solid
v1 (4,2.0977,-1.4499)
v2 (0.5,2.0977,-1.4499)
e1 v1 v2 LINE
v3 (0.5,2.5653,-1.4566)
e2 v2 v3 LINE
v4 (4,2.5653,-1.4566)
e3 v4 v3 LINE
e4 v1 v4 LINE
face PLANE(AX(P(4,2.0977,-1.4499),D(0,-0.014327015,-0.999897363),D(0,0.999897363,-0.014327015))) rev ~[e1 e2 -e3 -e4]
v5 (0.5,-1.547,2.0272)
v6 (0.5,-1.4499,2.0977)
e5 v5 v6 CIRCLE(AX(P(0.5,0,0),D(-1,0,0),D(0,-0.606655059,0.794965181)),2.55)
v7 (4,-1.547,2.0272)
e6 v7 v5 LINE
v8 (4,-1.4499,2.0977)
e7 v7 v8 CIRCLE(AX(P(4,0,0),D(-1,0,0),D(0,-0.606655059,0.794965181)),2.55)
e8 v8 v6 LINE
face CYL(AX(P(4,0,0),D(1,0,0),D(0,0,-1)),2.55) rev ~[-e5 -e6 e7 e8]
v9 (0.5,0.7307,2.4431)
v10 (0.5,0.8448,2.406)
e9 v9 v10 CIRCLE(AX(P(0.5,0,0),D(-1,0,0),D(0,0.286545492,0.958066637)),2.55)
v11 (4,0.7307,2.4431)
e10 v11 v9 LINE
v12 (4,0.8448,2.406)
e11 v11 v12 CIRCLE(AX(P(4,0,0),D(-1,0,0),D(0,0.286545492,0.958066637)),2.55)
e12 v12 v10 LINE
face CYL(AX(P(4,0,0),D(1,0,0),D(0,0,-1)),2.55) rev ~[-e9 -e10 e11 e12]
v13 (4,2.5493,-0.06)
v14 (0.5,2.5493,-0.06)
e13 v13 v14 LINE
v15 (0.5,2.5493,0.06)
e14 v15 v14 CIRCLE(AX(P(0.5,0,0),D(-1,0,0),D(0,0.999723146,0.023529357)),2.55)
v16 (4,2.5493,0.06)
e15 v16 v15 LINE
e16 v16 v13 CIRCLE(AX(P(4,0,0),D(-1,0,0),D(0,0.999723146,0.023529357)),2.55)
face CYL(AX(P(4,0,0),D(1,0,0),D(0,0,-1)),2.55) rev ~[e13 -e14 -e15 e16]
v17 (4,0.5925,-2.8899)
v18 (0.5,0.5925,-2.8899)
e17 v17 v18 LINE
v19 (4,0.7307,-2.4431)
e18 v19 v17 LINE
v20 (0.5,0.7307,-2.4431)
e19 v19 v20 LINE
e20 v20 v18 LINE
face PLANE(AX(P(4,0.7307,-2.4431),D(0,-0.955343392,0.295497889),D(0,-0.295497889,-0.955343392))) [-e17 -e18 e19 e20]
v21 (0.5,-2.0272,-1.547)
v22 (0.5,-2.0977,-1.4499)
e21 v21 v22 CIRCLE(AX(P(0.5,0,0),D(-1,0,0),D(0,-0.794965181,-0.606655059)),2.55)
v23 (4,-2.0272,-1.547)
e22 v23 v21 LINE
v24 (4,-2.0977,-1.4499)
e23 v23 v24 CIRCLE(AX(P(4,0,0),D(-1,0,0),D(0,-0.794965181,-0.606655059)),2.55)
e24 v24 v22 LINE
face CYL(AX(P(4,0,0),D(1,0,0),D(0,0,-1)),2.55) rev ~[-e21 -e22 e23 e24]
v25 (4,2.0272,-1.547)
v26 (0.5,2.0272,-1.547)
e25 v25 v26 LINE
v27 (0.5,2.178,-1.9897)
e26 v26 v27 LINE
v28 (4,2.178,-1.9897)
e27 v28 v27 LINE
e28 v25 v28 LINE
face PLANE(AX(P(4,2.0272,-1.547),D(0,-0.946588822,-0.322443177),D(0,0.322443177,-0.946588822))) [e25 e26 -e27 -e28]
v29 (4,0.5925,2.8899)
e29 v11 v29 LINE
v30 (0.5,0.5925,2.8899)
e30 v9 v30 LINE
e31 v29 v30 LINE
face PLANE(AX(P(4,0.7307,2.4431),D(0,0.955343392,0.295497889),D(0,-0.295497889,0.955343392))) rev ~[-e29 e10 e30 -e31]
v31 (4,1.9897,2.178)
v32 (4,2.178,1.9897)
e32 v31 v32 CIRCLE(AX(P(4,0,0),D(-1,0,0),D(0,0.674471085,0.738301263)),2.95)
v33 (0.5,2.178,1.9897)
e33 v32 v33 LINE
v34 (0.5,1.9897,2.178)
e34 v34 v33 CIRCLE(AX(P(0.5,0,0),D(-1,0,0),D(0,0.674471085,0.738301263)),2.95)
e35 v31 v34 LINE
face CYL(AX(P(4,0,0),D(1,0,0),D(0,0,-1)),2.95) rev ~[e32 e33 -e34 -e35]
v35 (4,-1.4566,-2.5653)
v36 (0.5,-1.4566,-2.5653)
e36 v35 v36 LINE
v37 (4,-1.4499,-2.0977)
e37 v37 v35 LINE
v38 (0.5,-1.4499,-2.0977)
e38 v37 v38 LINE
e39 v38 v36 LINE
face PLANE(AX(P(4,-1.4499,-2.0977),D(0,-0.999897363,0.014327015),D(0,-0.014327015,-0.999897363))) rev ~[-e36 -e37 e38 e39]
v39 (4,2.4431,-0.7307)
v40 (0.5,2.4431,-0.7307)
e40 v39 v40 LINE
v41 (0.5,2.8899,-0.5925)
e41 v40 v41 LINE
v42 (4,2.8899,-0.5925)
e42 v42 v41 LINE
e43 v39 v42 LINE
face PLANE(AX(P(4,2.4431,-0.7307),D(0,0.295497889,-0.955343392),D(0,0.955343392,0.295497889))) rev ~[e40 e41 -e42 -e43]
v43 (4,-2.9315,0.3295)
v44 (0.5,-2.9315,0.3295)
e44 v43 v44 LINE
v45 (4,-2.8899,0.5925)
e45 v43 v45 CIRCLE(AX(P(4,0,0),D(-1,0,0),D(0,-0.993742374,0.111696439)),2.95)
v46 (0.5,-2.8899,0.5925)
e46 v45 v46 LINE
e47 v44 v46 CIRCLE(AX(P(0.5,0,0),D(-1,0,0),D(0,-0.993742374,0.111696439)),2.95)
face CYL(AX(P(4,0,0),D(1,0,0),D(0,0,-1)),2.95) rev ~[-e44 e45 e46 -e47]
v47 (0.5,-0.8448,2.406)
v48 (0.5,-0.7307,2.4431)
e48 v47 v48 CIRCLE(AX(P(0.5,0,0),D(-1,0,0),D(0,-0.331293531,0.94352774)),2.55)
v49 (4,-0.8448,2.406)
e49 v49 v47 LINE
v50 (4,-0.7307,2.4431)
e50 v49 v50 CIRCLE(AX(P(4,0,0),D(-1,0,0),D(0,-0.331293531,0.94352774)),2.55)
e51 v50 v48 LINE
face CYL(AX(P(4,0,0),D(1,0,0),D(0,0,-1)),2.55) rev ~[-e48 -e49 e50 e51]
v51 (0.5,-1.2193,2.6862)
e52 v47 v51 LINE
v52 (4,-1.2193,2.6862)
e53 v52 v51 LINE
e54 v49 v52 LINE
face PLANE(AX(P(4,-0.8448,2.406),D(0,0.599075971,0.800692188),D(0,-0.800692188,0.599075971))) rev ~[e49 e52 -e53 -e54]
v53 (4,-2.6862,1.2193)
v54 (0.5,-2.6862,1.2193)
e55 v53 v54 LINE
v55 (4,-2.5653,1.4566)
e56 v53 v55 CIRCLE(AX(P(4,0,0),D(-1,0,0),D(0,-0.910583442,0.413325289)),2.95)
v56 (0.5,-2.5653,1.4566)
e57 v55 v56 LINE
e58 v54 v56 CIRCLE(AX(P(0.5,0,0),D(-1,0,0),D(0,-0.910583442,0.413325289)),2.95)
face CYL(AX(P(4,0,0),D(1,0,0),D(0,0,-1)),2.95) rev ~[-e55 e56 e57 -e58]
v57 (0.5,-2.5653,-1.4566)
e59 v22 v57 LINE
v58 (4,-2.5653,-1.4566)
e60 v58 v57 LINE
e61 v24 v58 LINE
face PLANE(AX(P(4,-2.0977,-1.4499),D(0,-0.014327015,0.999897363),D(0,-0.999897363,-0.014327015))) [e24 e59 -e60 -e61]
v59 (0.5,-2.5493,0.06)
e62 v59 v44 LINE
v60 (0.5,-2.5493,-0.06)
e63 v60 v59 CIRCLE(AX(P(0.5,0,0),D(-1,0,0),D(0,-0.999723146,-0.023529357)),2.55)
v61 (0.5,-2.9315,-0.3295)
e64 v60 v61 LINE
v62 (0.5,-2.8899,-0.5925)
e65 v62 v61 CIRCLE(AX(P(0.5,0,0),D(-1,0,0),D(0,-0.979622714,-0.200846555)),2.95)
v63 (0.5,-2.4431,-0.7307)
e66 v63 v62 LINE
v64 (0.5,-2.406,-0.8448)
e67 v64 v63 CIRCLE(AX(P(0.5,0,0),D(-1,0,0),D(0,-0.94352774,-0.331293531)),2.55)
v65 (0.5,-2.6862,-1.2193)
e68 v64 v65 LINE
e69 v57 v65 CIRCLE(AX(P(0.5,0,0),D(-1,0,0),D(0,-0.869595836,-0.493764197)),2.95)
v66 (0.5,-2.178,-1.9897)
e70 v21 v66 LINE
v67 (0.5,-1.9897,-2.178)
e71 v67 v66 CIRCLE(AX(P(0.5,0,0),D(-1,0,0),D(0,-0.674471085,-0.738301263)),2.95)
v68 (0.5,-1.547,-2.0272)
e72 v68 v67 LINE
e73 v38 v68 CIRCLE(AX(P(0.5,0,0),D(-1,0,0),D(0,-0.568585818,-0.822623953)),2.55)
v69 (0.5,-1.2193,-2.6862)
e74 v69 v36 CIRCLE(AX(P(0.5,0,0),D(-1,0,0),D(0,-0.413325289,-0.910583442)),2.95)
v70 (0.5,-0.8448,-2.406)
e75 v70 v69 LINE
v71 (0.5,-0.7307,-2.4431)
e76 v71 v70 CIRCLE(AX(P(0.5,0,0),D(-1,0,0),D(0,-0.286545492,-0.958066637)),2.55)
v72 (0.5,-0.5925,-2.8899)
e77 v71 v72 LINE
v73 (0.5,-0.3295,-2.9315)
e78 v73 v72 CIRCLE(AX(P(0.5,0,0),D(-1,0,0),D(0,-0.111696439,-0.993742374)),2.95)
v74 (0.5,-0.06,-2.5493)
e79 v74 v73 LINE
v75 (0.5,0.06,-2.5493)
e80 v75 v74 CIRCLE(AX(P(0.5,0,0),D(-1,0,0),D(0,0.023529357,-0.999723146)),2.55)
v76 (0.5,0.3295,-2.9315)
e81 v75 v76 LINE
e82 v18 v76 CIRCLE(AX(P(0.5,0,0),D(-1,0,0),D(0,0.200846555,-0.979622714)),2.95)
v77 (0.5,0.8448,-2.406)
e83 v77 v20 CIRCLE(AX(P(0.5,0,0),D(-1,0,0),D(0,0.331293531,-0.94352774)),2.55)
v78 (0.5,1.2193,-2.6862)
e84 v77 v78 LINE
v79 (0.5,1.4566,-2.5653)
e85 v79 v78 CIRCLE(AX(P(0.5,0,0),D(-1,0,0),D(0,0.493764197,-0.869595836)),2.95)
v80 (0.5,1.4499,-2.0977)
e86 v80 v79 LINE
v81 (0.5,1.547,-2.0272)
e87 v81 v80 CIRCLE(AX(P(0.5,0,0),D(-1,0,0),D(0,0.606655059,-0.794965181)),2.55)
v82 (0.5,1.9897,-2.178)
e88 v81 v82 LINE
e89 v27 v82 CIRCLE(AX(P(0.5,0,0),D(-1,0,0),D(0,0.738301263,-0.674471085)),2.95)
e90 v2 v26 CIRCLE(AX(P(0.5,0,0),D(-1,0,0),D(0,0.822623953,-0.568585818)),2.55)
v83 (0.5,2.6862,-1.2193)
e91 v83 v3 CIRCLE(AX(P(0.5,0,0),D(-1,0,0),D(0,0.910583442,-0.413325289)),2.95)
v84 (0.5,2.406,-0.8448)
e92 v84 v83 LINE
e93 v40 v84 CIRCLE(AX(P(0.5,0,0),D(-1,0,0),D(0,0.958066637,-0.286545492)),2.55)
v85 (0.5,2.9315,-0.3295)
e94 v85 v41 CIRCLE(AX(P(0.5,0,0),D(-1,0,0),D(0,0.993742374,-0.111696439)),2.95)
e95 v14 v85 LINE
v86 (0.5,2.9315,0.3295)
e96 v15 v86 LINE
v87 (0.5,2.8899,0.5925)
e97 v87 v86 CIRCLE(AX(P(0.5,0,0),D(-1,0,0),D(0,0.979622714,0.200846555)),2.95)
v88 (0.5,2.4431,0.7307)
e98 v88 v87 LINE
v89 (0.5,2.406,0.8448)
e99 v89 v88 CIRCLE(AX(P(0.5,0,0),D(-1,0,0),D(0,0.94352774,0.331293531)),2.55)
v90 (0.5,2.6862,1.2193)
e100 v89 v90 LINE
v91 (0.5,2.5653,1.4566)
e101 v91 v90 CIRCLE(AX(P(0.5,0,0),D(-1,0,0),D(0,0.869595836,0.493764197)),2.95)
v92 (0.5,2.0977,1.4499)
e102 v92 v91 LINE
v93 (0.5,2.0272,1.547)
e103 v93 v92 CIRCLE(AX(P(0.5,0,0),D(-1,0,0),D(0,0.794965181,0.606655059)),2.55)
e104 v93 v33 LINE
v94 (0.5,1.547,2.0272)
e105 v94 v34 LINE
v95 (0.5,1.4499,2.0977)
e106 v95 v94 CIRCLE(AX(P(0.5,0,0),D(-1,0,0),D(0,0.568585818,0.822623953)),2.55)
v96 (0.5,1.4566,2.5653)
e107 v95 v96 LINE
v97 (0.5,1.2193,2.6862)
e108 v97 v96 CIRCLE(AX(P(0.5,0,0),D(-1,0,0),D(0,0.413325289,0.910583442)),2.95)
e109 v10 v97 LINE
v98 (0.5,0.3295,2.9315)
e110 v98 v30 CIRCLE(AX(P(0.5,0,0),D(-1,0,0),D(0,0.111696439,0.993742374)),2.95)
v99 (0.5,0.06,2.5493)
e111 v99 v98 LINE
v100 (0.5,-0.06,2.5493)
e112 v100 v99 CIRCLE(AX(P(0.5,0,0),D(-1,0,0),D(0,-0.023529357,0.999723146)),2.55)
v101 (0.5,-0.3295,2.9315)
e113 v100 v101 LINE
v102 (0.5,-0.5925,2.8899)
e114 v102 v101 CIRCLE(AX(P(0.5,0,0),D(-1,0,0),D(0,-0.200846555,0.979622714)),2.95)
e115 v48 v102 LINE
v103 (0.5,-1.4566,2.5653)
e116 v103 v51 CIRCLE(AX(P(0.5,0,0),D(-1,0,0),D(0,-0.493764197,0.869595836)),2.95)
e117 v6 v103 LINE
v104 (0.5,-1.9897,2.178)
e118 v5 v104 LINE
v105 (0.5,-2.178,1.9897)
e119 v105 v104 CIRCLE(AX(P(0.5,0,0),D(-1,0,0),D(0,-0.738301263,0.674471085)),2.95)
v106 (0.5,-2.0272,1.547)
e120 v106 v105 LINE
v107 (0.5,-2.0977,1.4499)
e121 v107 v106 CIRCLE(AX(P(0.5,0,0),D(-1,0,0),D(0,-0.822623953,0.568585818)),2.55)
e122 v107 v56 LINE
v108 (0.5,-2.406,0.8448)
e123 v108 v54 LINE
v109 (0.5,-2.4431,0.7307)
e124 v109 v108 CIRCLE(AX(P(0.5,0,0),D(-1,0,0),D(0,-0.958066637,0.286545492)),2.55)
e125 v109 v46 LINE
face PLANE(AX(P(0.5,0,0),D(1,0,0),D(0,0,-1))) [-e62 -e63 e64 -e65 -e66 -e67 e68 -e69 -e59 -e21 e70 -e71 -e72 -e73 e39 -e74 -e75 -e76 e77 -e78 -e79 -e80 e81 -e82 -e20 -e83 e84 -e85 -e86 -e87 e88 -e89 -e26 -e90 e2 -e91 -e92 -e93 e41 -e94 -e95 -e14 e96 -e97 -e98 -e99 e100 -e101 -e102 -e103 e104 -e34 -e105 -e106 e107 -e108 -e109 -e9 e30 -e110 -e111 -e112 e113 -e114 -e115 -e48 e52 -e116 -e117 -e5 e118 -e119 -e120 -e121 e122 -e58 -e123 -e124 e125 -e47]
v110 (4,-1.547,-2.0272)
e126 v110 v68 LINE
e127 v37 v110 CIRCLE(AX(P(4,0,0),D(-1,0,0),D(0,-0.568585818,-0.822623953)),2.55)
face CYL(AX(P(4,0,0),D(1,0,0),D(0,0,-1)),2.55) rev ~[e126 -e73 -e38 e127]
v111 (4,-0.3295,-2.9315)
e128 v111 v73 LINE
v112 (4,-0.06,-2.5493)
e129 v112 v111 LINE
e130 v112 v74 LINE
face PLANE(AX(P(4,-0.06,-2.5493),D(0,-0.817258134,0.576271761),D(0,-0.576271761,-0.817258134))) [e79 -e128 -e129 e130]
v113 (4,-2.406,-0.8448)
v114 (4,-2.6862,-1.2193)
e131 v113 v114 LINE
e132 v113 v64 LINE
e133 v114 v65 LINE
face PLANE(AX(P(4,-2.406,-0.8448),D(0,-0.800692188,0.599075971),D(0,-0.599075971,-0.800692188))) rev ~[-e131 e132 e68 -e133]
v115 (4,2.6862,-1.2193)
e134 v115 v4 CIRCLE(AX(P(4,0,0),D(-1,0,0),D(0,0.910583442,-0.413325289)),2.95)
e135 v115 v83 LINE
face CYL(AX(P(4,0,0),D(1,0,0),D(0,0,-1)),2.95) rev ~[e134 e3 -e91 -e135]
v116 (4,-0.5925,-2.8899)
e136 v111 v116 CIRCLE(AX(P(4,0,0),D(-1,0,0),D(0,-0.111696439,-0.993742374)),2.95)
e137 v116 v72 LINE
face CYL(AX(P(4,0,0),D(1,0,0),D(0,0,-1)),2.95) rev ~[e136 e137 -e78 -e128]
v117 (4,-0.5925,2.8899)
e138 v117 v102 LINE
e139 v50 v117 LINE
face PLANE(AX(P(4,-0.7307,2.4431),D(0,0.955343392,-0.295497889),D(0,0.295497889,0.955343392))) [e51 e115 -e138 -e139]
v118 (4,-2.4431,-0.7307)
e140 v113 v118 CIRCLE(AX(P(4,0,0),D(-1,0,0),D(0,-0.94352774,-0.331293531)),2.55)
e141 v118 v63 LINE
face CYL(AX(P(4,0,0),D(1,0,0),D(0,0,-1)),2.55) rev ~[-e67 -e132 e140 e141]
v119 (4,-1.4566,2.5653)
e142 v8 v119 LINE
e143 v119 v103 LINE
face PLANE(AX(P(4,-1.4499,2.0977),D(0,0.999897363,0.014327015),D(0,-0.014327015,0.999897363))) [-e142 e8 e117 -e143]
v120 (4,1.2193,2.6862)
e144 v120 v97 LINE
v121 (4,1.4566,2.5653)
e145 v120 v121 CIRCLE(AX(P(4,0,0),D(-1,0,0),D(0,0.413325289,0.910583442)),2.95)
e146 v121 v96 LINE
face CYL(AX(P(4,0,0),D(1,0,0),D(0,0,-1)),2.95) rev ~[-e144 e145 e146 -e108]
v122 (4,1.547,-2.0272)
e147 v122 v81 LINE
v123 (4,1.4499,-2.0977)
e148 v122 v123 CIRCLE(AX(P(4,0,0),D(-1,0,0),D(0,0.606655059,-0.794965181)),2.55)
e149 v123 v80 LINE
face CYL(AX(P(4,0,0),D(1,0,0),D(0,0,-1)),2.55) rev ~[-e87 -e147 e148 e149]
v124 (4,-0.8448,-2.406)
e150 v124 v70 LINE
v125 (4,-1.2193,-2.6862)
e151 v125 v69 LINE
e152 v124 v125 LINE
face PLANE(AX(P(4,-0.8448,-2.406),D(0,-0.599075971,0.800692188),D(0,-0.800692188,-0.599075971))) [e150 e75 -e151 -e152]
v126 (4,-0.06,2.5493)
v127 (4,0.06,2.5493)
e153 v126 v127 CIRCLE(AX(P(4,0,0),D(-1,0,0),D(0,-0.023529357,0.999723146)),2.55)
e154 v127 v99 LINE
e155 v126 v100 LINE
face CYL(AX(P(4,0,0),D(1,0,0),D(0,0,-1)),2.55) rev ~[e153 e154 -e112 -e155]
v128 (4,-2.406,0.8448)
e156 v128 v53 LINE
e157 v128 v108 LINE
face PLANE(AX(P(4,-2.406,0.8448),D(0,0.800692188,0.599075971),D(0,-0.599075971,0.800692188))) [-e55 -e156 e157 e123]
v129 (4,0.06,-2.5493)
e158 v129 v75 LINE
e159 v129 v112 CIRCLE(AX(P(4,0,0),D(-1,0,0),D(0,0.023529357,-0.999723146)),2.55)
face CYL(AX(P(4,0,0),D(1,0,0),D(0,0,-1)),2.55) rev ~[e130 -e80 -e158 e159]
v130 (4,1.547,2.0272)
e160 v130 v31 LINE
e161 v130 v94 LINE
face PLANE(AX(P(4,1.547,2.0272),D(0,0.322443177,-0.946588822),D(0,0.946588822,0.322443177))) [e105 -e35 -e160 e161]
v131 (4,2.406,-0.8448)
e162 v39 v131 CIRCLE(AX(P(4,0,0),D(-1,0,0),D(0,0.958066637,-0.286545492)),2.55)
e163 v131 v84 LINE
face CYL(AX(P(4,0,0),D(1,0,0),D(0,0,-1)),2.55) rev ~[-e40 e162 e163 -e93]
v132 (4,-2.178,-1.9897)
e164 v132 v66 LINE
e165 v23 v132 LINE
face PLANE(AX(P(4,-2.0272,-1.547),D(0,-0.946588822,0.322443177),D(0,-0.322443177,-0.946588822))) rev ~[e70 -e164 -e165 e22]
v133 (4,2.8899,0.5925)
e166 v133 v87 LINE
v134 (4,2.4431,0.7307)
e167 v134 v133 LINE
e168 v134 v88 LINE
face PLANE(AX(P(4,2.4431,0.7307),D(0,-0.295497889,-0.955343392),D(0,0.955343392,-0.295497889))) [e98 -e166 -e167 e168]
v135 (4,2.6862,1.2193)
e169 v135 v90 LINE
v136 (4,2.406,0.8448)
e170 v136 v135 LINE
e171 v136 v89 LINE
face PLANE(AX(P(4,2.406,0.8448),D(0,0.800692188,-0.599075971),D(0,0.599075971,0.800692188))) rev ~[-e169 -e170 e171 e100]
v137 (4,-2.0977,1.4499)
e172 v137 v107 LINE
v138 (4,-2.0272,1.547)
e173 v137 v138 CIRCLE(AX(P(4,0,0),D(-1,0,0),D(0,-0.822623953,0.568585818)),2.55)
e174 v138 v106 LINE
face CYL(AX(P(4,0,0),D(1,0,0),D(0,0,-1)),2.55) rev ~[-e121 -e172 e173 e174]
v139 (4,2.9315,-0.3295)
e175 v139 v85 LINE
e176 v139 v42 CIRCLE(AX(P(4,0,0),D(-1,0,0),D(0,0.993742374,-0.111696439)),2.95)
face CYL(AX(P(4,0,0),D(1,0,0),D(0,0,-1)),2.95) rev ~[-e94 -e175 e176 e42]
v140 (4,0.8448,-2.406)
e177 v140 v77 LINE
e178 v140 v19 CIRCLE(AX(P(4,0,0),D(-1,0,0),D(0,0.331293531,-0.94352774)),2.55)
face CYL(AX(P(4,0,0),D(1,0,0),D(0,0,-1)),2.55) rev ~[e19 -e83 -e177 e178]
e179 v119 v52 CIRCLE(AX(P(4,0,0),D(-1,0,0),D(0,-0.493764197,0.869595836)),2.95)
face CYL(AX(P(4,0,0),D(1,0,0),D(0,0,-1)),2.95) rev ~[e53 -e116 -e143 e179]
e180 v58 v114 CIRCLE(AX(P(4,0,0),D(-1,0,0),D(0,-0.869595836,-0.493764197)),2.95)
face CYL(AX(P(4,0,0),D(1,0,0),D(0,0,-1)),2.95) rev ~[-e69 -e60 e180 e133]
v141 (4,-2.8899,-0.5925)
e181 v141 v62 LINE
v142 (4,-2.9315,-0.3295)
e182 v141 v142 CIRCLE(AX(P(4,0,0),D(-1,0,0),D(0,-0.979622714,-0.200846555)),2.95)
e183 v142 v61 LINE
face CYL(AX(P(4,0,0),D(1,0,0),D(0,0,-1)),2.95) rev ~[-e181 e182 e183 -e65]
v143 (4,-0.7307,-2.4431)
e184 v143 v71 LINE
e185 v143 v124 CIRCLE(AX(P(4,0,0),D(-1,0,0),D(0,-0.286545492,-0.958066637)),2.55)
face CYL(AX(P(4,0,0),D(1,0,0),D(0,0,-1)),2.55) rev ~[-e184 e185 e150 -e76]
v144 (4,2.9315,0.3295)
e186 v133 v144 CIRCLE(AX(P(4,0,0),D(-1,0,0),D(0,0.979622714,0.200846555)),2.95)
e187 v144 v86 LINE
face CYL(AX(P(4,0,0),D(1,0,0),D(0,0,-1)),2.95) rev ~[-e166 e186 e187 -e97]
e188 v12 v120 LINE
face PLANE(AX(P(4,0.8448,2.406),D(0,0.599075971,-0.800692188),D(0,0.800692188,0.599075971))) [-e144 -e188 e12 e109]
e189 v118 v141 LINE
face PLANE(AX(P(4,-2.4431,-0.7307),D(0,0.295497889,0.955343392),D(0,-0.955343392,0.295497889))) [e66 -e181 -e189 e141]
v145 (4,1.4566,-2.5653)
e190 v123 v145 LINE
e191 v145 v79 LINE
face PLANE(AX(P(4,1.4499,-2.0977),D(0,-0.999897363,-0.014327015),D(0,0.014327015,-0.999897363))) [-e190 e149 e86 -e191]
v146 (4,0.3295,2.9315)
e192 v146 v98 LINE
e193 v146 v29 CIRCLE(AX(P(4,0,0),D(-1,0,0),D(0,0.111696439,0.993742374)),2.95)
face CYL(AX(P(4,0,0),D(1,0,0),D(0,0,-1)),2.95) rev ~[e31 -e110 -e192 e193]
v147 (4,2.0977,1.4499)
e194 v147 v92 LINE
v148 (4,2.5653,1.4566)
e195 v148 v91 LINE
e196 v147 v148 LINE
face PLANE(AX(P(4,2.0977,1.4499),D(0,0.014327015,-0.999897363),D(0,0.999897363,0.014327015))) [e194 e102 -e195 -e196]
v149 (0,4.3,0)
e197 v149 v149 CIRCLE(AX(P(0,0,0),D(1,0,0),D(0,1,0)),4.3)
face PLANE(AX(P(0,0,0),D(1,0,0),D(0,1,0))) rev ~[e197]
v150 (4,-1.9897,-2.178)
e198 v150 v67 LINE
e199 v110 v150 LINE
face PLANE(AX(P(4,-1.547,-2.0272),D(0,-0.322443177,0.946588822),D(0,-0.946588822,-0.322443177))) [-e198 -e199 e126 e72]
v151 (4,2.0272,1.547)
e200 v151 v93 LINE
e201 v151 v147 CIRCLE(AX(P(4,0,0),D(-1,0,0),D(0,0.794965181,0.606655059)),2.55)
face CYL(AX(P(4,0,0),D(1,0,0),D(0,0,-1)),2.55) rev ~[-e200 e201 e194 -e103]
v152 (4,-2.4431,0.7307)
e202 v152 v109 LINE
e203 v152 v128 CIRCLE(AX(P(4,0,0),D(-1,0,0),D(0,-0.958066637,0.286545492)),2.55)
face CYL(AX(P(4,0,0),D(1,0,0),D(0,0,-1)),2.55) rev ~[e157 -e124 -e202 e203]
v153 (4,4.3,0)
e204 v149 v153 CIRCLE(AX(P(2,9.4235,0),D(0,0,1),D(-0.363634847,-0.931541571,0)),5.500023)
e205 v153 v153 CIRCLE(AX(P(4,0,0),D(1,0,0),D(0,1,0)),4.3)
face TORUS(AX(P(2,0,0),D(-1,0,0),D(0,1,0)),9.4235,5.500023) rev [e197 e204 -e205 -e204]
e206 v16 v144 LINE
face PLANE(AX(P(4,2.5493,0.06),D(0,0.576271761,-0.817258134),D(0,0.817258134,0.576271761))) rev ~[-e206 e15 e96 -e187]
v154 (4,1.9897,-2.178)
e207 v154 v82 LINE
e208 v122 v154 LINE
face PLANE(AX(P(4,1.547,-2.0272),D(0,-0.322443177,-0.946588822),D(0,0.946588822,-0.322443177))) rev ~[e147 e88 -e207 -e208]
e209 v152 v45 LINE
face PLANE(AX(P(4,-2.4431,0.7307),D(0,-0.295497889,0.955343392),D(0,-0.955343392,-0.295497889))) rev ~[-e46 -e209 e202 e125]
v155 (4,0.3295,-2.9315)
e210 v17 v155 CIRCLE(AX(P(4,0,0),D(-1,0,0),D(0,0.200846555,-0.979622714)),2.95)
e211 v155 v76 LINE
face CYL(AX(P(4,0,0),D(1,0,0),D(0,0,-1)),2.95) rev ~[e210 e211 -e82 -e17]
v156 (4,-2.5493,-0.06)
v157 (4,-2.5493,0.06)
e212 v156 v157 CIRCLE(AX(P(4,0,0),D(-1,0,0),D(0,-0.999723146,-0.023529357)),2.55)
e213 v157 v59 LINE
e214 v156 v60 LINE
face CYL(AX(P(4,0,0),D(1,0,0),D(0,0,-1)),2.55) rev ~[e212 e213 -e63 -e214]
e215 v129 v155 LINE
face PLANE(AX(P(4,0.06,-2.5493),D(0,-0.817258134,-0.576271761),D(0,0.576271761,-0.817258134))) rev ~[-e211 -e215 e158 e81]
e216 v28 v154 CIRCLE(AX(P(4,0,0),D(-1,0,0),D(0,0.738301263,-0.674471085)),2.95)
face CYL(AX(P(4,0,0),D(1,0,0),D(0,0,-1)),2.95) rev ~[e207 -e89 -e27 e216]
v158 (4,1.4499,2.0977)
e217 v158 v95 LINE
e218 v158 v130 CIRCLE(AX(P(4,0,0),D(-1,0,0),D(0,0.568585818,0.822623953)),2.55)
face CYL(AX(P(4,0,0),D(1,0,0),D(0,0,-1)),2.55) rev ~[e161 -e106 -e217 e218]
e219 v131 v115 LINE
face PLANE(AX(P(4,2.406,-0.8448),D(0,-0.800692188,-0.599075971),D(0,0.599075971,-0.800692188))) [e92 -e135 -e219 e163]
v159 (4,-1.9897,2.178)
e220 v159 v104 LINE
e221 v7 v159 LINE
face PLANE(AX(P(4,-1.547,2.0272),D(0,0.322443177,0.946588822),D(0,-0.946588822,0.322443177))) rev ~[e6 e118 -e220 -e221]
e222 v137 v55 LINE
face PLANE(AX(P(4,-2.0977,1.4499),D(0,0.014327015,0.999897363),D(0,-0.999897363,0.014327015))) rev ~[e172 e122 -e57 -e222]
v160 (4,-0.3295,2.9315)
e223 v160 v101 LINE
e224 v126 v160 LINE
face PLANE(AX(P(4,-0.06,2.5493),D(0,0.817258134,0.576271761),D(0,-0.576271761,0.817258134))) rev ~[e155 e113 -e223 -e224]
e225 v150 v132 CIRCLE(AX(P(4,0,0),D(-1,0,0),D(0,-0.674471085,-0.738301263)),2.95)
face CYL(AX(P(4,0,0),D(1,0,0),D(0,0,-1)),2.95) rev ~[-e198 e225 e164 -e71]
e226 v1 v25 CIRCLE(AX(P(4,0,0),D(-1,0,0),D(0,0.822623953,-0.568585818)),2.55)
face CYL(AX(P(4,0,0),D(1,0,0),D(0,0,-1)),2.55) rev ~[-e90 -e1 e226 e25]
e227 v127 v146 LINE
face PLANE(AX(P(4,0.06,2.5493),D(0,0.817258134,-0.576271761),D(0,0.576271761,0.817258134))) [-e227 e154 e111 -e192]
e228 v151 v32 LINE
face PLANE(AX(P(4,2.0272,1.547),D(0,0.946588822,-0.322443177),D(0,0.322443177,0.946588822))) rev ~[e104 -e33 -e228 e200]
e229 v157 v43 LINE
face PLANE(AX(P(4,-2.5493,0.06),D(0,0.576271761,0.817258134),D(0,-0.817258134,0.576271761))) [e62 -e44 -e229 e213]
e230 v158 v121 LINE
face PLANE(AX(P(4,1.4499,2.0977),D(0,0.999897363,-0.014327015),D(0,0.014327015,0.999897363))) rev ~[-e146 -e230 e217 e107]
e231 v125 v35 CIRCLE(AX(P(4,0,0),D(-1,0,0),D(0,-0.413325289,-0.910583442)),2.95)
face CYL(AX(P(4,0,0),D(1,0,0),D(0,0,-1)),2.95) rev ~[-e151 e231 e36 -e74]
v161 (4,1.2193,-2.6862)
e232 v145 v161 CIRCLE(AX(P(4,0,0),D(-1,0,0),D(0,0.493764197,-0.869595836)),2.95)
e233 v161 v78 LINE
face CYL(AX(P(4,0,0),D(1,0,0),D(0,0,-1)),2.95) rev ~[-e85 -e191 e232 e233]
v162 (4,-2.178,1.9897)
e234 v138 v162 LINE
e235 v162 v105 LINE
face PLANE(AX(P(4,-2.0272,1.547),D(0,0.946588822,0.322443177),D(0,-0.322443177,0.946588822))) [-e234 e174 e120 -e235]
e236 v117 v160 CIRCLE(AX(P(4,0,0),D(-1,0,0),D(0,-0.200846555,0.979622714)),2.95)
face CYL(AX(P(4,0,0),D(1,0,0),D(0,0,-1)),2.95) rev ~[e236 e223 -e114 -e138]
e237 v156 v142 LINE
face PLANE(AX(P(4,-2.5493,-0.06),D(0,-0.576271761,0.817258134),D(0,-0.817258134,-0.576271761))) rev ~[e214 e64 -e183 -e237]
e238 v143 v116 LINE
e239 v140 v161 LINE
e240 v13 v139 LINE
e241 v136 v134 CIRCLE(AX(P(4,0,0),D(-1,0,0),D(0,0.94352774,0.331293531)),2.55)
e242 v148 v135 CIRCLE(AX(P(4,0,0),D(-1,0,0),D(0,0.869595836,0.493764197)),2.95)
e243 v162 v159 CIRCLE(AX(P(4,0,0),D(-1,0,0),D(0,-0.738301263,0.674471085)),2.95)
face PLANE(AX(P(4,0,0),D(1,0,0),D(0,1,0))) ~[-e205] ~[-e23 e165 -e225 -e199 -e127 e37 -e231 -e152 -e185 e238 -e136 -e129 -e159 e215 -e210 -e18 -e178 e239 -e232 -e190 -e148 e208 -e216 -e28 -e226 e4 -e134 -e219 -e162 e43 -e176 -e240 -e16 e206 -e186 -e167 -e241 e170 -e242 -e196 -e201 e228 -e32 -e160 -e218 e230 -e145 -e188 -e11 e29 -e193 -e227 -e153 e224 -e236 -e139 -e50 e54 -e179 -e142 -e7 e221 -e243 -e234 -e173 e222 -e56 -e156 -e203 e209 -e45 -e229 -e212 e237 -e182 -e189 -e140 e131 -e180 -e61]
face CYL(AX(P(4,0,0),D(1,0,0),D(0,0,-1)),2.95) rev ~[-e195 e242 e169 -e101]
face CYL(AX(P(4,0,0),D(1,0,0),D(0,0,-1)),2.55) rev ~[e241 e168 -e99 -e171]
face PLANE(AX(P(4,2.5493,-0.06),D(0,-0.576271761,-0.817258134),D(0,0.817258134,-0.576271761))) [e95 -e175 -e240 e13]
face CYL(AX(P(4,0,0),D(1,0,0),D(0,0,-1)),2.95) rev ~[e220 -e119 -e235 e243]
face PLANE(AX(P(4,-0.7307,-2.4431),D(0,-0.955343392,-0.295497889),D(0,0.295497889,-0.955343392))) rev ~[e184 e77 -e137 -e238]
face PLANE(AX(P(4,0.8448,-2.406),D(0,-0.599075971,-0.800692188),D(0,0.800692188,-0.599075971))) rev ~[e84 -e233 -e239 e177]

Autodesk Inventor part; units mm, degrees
ref_plane "YZ Plane" through (0, 0, 0) normal (1, 0, 0) x (0, 1, 0)
ref_plane "XZ Plane" through (0, 0, 0) normal (0, 1, 0) x (-1, 0, 0)
ref_plane "XY Plane" through (0, 0, 0) normal (0, 0, 1) x (1, 0, 0)
sketch "Esboço2" plane through (0, 0, 0) normal (0, 0, 1) x (1, 0, 0)
  line L0 (0, 0) -> (4, 0)
  line L1 (4, 0) -> (4, 4.3)
  line L2 (0, 4.3) -> (0, 0)
  arc A0 (0, 4.3) -> (4, 4.3) centre (2, 9.4235) ccw
  dimension "d0" = 4
  dimension "d1" = 4.3
  dimension "d70" = 5.5
revolve "Revolução1" add sketch "Esboço2" angle 360 about axis through (0, 0, 0) along (1, 0, 0)
sketch "Esboço11" plane through (4, 0, 0) normal (1, 0, 0) x (0, 0, -1)
  circle A0 centre (0, 0) radius 2.55
  circle A1 centre (0, 0) radius 2.95
  line L0 (0, 0) -> (2.95, 0)
  line L1 (2.55, 0) -> (2.5493, 0.06)
  line L2 (2.5493, 0.06) -> (2.55, 0)
  line L3 (2.55, 0) -> (2.5493, -0.06)
  line L4 (2.5493, 0.06) -> (2.9315, 0.3295)
  line L5 (2.5493, -0.06) -> (2.9315, -0.3295)
  line L6 (2.9315, 0.3295) -> (2.9255, 0.3791)
  line L7 (2.9315, -0.3295) -> (2.9255, -0.3791)
  line L8 (2.406, 0.8448) -> (2.6862, 1.2193)
  line L9 (2.4252, 0.788) -> (2.406, 0.8448)
  line L10 (2.4252, 0.788) -> (2.4431, 0.7307)
  line L11 (2.4431, 0.7307) -> (2.8899, 0.5925)
  circle A2 centre (0, 0) radius 2.95
  line L12 (2.6862, 1.2193) -> (2.6652, 1.2646)
  line L13 (2.8899, 0.5925) -> (2.8995, 0.5435)
  line L14 (2.0272, 1.547) -> (2.178, 1.9897)
  line L15 (2.063, 1.4989) -> (2.0272, 1.547)
  line L16 (2.063, 1.4989) -> (2.0977, 1.4499)
  line L17 (2.0977, 1.4499) -> (2.5653, 1.4566)
  circle A3 centre (0, 0) radius 2.95
  line L18 (2.178, 1.9897) -> (2.144, 2.0263)
  line L19 (2.5653, 1.4566) -> (2.5897, 1.4129)
  line L20 (1.4499, 2.0977) -> (1.4566, 2.5653)
  line L21 (1.4989, 2.063) -> (1.4499, 2.0977)
  line L22 (1.4989, 2.063) -> (1.547, 2.0272)
  line L23 (1.547, 2.0272) -> (1.9897, 2.178)
  circle A4 centre (0, 0) radius 2.95
  line L24 (1.4566, 2.5653) -> (1.4129, 2.5897)
  line L25 (1.9897, 2.178) -> (2.0263, 2.144)
  line L26 (0.7307, 2.4431) -> (0.5925, 2.8899)
  line L27 (0.788, 2.4252) -> (0.7307, 2.4431)
  line L28 (0.788, 2.4252) -> (0.8448, 2.406)
  line L29 (0.8448, 2.406) -> (1.2193, 2.6862)
  circle A5 centre (0, 0) radius 2.95
  line L30 (0.5925, 2.8899) -> (0.5435, 2.8995)
  line L31 (1.2193, 2.6862) -> (1.2646, 2.6652)
  line L32 (-0.06, 2.5493) -> (-0.3295, 2.9315)
  line L33 (0, 2.55) -> (-0.06, 2.5493)
  line L34 (0, 2.55) -> (0.06, 2.5493)
  line L35 (0.06, 2.5493) -> (0.3295, 2.9315)
  circle A6 centre (0, 0) radius 2.95
  line L36 (-0.3295, 2.9315) -> (-0.3791, 2.9255)
  line L37 (0.3295, 2.9315) -> (0.3791, 2.9255)
  line L38 (-0.8448, 2.406) -> (-1.2193, 2.6862)
  line L39 (-0.788, 2.4252) -> (-0.8448, 2.406)
  line L40 (-0.788, 2.4252) -> (-0.7307, 2.4431)
  line L41 (-0.7307, 2.4431) -> (-0.5925, 2.8899)
  circle A7 centre (0, 0) radius 2.95
  line L42 (-1.2193, 2.6862) -> (-1.2646, 2.6652)
  line L43 (-0.5925, 2.8899) -> (-0.5435, 2.8995)
  line L44 (-1.547, 2.0272) -> (-1.9897, 2.178)
  line L45 (-1.4989, 2.063) -> (-1.547, 2.0272)
  line L46 (-1.4989, 2.063) -> (-1.4499, 2.0977)
  line L47 (-1.4499, 2.0977) -> (-1.4566, 2.5653)
  circle A8 centre (0, 0) radius 2.95
  line L48 (-1.9897, 2.178) -> (-2.0263, 2.144)
  line L49 (-1.4566, 2.5653) -> (-1.4129, 2.5897)
  line L50 (-2.0977, 1.4499) -> (-2.5653, 1.4566)
  line L51 (-2.063, 1.4989) -> (-2.0977, 1.4499)
  line L52 (-2.063, 1.4989) -> (-2.0272, 1.547)
  line L53 (-2.0272, 1.547) -> (-2.178, 1.9897)
  circle A9 centre (0, 0) radius 2.95
  line L54 (-2.5653, 1.4566) -> (-2.5897, 1.4129)
  line L55 (-2.178, 1.9897) -> (-2.144, 2.0263)
  line L56 (-2.4431, 0.7307) -> (-2.8899, 0.5925)
  line L57 (-2.4252, 0.788) -> (-2.4431, 0.7307)
  line L58 (-2.4252, 0.788) -> (-2.406, 0.8448)
  line L59 (-2.406, 0.8448) -> (-2.6862, 1.2193)
  circle A10 centre (0, 0) radius 2.95
  line L60 (-2.8899, 0.5925) -> (-2.8995, 0.5435)
  line L61 (-2.6862, 1.2193) -> (-2.6652, 1.2646)
  line L62 (-2.5493, -0.06) -> (-2.9315, -0.3295)
  line L63 (-2.55, 0) -> (-2.5493, -0.06)
  line L64 (-2.55, 0) -> (-2.5493, 0.06)
  line L65 (-2.5493, 0.06) -> (-2.9315, 0.3295)
  circle A11 centre (0, 0) radius 2.95
  line L66 (-2.9315, -0.3295) -> (-2.9255, -0.3791)
  line L67 (-2.9315, 0.3295) -> (-2.9255, 0.3791)
  line L68 (-2.406, -0.8448) -> (-2.6862, -1.2193)
  line L69 (-2.4252, -0.788) -> (-2.406, -0.8448)
  line L70 (-2.4252, -0.788) -> (-2.4431, -0.7307)
  line L71 (-2.4431, -0.7307) -> (-2.8899, -0.5925)
  circle A12 centre (0, 0) radius 2.95
  line L72 (-2.6862, -1.2193) -> (-2.6652, -1.2646)
  line L73 (-2.8899, -0.5925) -> (-2.8995, -0.5435)
  line L74 (-2.0272, -1.547) -> (-2.178, -1.9897)
  line L75 (-2.063, -1.4989) -> (-2.0272, -1.547)
  line L76 (-2.063, -1.4989) -> (-2.0977, -1.4499)
  line L77 (-2.0977, -1.4499) -> (-2.5653, -1.4566)
  circle A13 centre (0, 0) radius 2.95
  line L78 (-2.178, -1.9897) -> (-2.144, -2.0263)
  line L79 (-2.5653, -1.4566) -> (-2.5897, -1.4129)
  line L80 (-1.4499, -2.0977) -> (-1.4566, -2.5653)
  line L81 (-1.4989, -2.063) -> (-1.4499, -2.0977)
  line L82 (-1.4989, -2.063) -> (-1.547, -2.0272)
  line L83 (-1.547, -2.0272) -> (-1.9897, -2.178)
  circle A14 centre (0, 0) radius 2.95
  line L84 (-1.4566, -2.5653) -> (-1.4129, -2.5897)
  line L85 (-1.9897, -2.178) -> (-2.0263, -2.144)
  line L86 (-0.7307, -2.4431) -> (-0.5925, -2.8899)
  line L87 (-0.788, -2.4252) -> (-0.7307, -2.4431)
  line L88 (-0.788, -2.4252) -> (-0.8448, -2.406)
  line L89 (-0.8448, -2.406) -> (-1.2193, -2.6862)
  circle A15 centre (0, 0) radius 2.95
  line L90 (-0.5925, -2.8899) -> (-0.5435, -2.8995)
  line L91 (-1.2193, -2.6862) -> (-1.2646, -2.6652)
  line L92 (0.06, -2.5493) -> (0.3295, -2.9315)
  line L93 (0, -2.55) -> (0.06, -2.5493)
  line L94 (0, -2.55) -> (-0.06, -2.5493)
  line L95 (-0.06, -2.5493) -> (-0.3295, -2.9315)
  circle A16 centre (0, 0) radius 2.95
  line L96 (0.3295, -2.9315) -> (0.3791, -2.9255)
  line L97 (-0.3295, -2.9315) -> (-0.3791, -2.9255)
  line L98 (0.8448, -2.406) -> (1.2193, -2.6862)
  line L99 (0.788, -2.4252) -> (0.8448, -2.406)
  line L100 (0.788, -2.4252) -> (0.7307, -2.4431)
  line L101 (0.7307, -2.4431) -> (0.5925, -2.8899)
  circle A17 centre (0, 0) radius 2.95
  line L102 (1.2193, -2.6862) -> (1.2646, -2.6652)
  line L103 (0.5925, -2.8899) -> (0.5435, -2.8995)
  line L104 (1.547, -2.0272) -> (1.9897, -2.178)
  line L105 (1.4989, -2.063) -> (1.547, -2.0272)
  line L106 (1.4989, -2.063) -> (1.4499, -2.0977)
  line L107 (1.4499, -2.0977) -> (1.4566, -2.5653)
  circle A18 centre (0, 0) radius 2.95
  line L108 (1.9897, -2.178) -> (2.0263, -2.144)
  line L109 (1.4566, -2.5653) -> (1.4129, -2.5897)
  line L110 (2.0977, -1.4499) -> (2.5653, -1.4566)
  line L111 (2.063, -1.4989) -> (2.0977, -1.4499)
  line L112 (2.063, -1.4989) -> (2.0272, -1.547)
  line L113 (2.0272, -1.547) -> (2.178, -1.9897)
  circle A19 centre (0, 0) radius 2.95
  line L114 (2.5653, -1.4566) -> (2.5897, -1.4129)
  line L115 (2.178, -1.9897) -> (2.144, -2.0263)
  line L116 (2.4431, -0.7307) -> (2.8899, -0.5925)
  line L117 (2.4252, -0.788) -> (2.4431, -0.7307)
  line L118 (2.4252, -0.788) -> (2.406, -0.8448)
  line L119 (2.406, -0.8448) -> (2.6862, -1.2193)
  circle A20 centre (0, 0) radius 2.95
  line L120 (2.8899, -0.5925) -> (2.8995, -0.5435)
  line L121 (2.6862, -1.2193) -> (2.6652, -1.2646)
  point P0 (2.8056, 0.9116)
  point P1 (2.3866, 1.734)
  point P2 (1.734, 2.3866)
  point P3 (0.9116, 2.8056)
  point P4 (0, 2.95)
  point P5 (-0.9116, 2.8056)
  point P6 (-1.734, 2.3866)
  point P7 (-2.3866, 1.734)
  point P8 (-2.8056, 0.9116)
  point P9 (-2.95, 0)
  point P10 (-2.8056, -0.9116)
  point P11 (-2.3866, -1.734)
  point P12 (-1.734, -2.3866)
  point P13 (-0.9116, -2.8056)
  point P14 (0, -2.95)
  point P15 (0.9116, -2.8056)
  point P16 (1.734, -2.3866)
  point P17 (2.3866, -1.734)
  point P18 (2.8056, -0.9116)
  dimension "d59" = 5.9
  dimension "d58" = 5.1
  dimension "d60" = 0.06
  dimension "d61" = 0.06
  dimension "d62" = 0.05
  dimension "d63" = 0.05
  dimension "d66" = 360
extrude "Extrusão5" cut sketch "Esboço11" against normal blind 3.5 contours A0 | A0 L11 A1 L4 | L5 A1 L116 A0 | A0 L17 A1 L8 | L119 A1 L110 A0 | A0 L23 A1 L14 | L113 A1 L104 A0 | A0 L29 A1 L20 | L107 A1 L98 A0 | A0 L35 A1 L26 | L101 A1 L92 A0 | A0 L41 A1 L32 | L95 A1 L86 A0 | A0 L47 A1 L38 | L89 A1 L80 A0 | A0 L53 A1 L44 | L83 A1 L74 A0 | A0 L59 A1 L50 | L77 A1 L68 A0 | A0 L65 A1 L56 | L71 A1 L62 A0
sketch "Esboço12" plane through (4, 0, 0) normal (1, 0, 0) x (0, 0, -1)
  point P0 (0, 0)
sketch "Esboço13" plane through (0.5, 0, 0) normal (1, 0, 0) x (0, 0, -1)
  point P0 (0, 0)
properties part number "roda corda"
